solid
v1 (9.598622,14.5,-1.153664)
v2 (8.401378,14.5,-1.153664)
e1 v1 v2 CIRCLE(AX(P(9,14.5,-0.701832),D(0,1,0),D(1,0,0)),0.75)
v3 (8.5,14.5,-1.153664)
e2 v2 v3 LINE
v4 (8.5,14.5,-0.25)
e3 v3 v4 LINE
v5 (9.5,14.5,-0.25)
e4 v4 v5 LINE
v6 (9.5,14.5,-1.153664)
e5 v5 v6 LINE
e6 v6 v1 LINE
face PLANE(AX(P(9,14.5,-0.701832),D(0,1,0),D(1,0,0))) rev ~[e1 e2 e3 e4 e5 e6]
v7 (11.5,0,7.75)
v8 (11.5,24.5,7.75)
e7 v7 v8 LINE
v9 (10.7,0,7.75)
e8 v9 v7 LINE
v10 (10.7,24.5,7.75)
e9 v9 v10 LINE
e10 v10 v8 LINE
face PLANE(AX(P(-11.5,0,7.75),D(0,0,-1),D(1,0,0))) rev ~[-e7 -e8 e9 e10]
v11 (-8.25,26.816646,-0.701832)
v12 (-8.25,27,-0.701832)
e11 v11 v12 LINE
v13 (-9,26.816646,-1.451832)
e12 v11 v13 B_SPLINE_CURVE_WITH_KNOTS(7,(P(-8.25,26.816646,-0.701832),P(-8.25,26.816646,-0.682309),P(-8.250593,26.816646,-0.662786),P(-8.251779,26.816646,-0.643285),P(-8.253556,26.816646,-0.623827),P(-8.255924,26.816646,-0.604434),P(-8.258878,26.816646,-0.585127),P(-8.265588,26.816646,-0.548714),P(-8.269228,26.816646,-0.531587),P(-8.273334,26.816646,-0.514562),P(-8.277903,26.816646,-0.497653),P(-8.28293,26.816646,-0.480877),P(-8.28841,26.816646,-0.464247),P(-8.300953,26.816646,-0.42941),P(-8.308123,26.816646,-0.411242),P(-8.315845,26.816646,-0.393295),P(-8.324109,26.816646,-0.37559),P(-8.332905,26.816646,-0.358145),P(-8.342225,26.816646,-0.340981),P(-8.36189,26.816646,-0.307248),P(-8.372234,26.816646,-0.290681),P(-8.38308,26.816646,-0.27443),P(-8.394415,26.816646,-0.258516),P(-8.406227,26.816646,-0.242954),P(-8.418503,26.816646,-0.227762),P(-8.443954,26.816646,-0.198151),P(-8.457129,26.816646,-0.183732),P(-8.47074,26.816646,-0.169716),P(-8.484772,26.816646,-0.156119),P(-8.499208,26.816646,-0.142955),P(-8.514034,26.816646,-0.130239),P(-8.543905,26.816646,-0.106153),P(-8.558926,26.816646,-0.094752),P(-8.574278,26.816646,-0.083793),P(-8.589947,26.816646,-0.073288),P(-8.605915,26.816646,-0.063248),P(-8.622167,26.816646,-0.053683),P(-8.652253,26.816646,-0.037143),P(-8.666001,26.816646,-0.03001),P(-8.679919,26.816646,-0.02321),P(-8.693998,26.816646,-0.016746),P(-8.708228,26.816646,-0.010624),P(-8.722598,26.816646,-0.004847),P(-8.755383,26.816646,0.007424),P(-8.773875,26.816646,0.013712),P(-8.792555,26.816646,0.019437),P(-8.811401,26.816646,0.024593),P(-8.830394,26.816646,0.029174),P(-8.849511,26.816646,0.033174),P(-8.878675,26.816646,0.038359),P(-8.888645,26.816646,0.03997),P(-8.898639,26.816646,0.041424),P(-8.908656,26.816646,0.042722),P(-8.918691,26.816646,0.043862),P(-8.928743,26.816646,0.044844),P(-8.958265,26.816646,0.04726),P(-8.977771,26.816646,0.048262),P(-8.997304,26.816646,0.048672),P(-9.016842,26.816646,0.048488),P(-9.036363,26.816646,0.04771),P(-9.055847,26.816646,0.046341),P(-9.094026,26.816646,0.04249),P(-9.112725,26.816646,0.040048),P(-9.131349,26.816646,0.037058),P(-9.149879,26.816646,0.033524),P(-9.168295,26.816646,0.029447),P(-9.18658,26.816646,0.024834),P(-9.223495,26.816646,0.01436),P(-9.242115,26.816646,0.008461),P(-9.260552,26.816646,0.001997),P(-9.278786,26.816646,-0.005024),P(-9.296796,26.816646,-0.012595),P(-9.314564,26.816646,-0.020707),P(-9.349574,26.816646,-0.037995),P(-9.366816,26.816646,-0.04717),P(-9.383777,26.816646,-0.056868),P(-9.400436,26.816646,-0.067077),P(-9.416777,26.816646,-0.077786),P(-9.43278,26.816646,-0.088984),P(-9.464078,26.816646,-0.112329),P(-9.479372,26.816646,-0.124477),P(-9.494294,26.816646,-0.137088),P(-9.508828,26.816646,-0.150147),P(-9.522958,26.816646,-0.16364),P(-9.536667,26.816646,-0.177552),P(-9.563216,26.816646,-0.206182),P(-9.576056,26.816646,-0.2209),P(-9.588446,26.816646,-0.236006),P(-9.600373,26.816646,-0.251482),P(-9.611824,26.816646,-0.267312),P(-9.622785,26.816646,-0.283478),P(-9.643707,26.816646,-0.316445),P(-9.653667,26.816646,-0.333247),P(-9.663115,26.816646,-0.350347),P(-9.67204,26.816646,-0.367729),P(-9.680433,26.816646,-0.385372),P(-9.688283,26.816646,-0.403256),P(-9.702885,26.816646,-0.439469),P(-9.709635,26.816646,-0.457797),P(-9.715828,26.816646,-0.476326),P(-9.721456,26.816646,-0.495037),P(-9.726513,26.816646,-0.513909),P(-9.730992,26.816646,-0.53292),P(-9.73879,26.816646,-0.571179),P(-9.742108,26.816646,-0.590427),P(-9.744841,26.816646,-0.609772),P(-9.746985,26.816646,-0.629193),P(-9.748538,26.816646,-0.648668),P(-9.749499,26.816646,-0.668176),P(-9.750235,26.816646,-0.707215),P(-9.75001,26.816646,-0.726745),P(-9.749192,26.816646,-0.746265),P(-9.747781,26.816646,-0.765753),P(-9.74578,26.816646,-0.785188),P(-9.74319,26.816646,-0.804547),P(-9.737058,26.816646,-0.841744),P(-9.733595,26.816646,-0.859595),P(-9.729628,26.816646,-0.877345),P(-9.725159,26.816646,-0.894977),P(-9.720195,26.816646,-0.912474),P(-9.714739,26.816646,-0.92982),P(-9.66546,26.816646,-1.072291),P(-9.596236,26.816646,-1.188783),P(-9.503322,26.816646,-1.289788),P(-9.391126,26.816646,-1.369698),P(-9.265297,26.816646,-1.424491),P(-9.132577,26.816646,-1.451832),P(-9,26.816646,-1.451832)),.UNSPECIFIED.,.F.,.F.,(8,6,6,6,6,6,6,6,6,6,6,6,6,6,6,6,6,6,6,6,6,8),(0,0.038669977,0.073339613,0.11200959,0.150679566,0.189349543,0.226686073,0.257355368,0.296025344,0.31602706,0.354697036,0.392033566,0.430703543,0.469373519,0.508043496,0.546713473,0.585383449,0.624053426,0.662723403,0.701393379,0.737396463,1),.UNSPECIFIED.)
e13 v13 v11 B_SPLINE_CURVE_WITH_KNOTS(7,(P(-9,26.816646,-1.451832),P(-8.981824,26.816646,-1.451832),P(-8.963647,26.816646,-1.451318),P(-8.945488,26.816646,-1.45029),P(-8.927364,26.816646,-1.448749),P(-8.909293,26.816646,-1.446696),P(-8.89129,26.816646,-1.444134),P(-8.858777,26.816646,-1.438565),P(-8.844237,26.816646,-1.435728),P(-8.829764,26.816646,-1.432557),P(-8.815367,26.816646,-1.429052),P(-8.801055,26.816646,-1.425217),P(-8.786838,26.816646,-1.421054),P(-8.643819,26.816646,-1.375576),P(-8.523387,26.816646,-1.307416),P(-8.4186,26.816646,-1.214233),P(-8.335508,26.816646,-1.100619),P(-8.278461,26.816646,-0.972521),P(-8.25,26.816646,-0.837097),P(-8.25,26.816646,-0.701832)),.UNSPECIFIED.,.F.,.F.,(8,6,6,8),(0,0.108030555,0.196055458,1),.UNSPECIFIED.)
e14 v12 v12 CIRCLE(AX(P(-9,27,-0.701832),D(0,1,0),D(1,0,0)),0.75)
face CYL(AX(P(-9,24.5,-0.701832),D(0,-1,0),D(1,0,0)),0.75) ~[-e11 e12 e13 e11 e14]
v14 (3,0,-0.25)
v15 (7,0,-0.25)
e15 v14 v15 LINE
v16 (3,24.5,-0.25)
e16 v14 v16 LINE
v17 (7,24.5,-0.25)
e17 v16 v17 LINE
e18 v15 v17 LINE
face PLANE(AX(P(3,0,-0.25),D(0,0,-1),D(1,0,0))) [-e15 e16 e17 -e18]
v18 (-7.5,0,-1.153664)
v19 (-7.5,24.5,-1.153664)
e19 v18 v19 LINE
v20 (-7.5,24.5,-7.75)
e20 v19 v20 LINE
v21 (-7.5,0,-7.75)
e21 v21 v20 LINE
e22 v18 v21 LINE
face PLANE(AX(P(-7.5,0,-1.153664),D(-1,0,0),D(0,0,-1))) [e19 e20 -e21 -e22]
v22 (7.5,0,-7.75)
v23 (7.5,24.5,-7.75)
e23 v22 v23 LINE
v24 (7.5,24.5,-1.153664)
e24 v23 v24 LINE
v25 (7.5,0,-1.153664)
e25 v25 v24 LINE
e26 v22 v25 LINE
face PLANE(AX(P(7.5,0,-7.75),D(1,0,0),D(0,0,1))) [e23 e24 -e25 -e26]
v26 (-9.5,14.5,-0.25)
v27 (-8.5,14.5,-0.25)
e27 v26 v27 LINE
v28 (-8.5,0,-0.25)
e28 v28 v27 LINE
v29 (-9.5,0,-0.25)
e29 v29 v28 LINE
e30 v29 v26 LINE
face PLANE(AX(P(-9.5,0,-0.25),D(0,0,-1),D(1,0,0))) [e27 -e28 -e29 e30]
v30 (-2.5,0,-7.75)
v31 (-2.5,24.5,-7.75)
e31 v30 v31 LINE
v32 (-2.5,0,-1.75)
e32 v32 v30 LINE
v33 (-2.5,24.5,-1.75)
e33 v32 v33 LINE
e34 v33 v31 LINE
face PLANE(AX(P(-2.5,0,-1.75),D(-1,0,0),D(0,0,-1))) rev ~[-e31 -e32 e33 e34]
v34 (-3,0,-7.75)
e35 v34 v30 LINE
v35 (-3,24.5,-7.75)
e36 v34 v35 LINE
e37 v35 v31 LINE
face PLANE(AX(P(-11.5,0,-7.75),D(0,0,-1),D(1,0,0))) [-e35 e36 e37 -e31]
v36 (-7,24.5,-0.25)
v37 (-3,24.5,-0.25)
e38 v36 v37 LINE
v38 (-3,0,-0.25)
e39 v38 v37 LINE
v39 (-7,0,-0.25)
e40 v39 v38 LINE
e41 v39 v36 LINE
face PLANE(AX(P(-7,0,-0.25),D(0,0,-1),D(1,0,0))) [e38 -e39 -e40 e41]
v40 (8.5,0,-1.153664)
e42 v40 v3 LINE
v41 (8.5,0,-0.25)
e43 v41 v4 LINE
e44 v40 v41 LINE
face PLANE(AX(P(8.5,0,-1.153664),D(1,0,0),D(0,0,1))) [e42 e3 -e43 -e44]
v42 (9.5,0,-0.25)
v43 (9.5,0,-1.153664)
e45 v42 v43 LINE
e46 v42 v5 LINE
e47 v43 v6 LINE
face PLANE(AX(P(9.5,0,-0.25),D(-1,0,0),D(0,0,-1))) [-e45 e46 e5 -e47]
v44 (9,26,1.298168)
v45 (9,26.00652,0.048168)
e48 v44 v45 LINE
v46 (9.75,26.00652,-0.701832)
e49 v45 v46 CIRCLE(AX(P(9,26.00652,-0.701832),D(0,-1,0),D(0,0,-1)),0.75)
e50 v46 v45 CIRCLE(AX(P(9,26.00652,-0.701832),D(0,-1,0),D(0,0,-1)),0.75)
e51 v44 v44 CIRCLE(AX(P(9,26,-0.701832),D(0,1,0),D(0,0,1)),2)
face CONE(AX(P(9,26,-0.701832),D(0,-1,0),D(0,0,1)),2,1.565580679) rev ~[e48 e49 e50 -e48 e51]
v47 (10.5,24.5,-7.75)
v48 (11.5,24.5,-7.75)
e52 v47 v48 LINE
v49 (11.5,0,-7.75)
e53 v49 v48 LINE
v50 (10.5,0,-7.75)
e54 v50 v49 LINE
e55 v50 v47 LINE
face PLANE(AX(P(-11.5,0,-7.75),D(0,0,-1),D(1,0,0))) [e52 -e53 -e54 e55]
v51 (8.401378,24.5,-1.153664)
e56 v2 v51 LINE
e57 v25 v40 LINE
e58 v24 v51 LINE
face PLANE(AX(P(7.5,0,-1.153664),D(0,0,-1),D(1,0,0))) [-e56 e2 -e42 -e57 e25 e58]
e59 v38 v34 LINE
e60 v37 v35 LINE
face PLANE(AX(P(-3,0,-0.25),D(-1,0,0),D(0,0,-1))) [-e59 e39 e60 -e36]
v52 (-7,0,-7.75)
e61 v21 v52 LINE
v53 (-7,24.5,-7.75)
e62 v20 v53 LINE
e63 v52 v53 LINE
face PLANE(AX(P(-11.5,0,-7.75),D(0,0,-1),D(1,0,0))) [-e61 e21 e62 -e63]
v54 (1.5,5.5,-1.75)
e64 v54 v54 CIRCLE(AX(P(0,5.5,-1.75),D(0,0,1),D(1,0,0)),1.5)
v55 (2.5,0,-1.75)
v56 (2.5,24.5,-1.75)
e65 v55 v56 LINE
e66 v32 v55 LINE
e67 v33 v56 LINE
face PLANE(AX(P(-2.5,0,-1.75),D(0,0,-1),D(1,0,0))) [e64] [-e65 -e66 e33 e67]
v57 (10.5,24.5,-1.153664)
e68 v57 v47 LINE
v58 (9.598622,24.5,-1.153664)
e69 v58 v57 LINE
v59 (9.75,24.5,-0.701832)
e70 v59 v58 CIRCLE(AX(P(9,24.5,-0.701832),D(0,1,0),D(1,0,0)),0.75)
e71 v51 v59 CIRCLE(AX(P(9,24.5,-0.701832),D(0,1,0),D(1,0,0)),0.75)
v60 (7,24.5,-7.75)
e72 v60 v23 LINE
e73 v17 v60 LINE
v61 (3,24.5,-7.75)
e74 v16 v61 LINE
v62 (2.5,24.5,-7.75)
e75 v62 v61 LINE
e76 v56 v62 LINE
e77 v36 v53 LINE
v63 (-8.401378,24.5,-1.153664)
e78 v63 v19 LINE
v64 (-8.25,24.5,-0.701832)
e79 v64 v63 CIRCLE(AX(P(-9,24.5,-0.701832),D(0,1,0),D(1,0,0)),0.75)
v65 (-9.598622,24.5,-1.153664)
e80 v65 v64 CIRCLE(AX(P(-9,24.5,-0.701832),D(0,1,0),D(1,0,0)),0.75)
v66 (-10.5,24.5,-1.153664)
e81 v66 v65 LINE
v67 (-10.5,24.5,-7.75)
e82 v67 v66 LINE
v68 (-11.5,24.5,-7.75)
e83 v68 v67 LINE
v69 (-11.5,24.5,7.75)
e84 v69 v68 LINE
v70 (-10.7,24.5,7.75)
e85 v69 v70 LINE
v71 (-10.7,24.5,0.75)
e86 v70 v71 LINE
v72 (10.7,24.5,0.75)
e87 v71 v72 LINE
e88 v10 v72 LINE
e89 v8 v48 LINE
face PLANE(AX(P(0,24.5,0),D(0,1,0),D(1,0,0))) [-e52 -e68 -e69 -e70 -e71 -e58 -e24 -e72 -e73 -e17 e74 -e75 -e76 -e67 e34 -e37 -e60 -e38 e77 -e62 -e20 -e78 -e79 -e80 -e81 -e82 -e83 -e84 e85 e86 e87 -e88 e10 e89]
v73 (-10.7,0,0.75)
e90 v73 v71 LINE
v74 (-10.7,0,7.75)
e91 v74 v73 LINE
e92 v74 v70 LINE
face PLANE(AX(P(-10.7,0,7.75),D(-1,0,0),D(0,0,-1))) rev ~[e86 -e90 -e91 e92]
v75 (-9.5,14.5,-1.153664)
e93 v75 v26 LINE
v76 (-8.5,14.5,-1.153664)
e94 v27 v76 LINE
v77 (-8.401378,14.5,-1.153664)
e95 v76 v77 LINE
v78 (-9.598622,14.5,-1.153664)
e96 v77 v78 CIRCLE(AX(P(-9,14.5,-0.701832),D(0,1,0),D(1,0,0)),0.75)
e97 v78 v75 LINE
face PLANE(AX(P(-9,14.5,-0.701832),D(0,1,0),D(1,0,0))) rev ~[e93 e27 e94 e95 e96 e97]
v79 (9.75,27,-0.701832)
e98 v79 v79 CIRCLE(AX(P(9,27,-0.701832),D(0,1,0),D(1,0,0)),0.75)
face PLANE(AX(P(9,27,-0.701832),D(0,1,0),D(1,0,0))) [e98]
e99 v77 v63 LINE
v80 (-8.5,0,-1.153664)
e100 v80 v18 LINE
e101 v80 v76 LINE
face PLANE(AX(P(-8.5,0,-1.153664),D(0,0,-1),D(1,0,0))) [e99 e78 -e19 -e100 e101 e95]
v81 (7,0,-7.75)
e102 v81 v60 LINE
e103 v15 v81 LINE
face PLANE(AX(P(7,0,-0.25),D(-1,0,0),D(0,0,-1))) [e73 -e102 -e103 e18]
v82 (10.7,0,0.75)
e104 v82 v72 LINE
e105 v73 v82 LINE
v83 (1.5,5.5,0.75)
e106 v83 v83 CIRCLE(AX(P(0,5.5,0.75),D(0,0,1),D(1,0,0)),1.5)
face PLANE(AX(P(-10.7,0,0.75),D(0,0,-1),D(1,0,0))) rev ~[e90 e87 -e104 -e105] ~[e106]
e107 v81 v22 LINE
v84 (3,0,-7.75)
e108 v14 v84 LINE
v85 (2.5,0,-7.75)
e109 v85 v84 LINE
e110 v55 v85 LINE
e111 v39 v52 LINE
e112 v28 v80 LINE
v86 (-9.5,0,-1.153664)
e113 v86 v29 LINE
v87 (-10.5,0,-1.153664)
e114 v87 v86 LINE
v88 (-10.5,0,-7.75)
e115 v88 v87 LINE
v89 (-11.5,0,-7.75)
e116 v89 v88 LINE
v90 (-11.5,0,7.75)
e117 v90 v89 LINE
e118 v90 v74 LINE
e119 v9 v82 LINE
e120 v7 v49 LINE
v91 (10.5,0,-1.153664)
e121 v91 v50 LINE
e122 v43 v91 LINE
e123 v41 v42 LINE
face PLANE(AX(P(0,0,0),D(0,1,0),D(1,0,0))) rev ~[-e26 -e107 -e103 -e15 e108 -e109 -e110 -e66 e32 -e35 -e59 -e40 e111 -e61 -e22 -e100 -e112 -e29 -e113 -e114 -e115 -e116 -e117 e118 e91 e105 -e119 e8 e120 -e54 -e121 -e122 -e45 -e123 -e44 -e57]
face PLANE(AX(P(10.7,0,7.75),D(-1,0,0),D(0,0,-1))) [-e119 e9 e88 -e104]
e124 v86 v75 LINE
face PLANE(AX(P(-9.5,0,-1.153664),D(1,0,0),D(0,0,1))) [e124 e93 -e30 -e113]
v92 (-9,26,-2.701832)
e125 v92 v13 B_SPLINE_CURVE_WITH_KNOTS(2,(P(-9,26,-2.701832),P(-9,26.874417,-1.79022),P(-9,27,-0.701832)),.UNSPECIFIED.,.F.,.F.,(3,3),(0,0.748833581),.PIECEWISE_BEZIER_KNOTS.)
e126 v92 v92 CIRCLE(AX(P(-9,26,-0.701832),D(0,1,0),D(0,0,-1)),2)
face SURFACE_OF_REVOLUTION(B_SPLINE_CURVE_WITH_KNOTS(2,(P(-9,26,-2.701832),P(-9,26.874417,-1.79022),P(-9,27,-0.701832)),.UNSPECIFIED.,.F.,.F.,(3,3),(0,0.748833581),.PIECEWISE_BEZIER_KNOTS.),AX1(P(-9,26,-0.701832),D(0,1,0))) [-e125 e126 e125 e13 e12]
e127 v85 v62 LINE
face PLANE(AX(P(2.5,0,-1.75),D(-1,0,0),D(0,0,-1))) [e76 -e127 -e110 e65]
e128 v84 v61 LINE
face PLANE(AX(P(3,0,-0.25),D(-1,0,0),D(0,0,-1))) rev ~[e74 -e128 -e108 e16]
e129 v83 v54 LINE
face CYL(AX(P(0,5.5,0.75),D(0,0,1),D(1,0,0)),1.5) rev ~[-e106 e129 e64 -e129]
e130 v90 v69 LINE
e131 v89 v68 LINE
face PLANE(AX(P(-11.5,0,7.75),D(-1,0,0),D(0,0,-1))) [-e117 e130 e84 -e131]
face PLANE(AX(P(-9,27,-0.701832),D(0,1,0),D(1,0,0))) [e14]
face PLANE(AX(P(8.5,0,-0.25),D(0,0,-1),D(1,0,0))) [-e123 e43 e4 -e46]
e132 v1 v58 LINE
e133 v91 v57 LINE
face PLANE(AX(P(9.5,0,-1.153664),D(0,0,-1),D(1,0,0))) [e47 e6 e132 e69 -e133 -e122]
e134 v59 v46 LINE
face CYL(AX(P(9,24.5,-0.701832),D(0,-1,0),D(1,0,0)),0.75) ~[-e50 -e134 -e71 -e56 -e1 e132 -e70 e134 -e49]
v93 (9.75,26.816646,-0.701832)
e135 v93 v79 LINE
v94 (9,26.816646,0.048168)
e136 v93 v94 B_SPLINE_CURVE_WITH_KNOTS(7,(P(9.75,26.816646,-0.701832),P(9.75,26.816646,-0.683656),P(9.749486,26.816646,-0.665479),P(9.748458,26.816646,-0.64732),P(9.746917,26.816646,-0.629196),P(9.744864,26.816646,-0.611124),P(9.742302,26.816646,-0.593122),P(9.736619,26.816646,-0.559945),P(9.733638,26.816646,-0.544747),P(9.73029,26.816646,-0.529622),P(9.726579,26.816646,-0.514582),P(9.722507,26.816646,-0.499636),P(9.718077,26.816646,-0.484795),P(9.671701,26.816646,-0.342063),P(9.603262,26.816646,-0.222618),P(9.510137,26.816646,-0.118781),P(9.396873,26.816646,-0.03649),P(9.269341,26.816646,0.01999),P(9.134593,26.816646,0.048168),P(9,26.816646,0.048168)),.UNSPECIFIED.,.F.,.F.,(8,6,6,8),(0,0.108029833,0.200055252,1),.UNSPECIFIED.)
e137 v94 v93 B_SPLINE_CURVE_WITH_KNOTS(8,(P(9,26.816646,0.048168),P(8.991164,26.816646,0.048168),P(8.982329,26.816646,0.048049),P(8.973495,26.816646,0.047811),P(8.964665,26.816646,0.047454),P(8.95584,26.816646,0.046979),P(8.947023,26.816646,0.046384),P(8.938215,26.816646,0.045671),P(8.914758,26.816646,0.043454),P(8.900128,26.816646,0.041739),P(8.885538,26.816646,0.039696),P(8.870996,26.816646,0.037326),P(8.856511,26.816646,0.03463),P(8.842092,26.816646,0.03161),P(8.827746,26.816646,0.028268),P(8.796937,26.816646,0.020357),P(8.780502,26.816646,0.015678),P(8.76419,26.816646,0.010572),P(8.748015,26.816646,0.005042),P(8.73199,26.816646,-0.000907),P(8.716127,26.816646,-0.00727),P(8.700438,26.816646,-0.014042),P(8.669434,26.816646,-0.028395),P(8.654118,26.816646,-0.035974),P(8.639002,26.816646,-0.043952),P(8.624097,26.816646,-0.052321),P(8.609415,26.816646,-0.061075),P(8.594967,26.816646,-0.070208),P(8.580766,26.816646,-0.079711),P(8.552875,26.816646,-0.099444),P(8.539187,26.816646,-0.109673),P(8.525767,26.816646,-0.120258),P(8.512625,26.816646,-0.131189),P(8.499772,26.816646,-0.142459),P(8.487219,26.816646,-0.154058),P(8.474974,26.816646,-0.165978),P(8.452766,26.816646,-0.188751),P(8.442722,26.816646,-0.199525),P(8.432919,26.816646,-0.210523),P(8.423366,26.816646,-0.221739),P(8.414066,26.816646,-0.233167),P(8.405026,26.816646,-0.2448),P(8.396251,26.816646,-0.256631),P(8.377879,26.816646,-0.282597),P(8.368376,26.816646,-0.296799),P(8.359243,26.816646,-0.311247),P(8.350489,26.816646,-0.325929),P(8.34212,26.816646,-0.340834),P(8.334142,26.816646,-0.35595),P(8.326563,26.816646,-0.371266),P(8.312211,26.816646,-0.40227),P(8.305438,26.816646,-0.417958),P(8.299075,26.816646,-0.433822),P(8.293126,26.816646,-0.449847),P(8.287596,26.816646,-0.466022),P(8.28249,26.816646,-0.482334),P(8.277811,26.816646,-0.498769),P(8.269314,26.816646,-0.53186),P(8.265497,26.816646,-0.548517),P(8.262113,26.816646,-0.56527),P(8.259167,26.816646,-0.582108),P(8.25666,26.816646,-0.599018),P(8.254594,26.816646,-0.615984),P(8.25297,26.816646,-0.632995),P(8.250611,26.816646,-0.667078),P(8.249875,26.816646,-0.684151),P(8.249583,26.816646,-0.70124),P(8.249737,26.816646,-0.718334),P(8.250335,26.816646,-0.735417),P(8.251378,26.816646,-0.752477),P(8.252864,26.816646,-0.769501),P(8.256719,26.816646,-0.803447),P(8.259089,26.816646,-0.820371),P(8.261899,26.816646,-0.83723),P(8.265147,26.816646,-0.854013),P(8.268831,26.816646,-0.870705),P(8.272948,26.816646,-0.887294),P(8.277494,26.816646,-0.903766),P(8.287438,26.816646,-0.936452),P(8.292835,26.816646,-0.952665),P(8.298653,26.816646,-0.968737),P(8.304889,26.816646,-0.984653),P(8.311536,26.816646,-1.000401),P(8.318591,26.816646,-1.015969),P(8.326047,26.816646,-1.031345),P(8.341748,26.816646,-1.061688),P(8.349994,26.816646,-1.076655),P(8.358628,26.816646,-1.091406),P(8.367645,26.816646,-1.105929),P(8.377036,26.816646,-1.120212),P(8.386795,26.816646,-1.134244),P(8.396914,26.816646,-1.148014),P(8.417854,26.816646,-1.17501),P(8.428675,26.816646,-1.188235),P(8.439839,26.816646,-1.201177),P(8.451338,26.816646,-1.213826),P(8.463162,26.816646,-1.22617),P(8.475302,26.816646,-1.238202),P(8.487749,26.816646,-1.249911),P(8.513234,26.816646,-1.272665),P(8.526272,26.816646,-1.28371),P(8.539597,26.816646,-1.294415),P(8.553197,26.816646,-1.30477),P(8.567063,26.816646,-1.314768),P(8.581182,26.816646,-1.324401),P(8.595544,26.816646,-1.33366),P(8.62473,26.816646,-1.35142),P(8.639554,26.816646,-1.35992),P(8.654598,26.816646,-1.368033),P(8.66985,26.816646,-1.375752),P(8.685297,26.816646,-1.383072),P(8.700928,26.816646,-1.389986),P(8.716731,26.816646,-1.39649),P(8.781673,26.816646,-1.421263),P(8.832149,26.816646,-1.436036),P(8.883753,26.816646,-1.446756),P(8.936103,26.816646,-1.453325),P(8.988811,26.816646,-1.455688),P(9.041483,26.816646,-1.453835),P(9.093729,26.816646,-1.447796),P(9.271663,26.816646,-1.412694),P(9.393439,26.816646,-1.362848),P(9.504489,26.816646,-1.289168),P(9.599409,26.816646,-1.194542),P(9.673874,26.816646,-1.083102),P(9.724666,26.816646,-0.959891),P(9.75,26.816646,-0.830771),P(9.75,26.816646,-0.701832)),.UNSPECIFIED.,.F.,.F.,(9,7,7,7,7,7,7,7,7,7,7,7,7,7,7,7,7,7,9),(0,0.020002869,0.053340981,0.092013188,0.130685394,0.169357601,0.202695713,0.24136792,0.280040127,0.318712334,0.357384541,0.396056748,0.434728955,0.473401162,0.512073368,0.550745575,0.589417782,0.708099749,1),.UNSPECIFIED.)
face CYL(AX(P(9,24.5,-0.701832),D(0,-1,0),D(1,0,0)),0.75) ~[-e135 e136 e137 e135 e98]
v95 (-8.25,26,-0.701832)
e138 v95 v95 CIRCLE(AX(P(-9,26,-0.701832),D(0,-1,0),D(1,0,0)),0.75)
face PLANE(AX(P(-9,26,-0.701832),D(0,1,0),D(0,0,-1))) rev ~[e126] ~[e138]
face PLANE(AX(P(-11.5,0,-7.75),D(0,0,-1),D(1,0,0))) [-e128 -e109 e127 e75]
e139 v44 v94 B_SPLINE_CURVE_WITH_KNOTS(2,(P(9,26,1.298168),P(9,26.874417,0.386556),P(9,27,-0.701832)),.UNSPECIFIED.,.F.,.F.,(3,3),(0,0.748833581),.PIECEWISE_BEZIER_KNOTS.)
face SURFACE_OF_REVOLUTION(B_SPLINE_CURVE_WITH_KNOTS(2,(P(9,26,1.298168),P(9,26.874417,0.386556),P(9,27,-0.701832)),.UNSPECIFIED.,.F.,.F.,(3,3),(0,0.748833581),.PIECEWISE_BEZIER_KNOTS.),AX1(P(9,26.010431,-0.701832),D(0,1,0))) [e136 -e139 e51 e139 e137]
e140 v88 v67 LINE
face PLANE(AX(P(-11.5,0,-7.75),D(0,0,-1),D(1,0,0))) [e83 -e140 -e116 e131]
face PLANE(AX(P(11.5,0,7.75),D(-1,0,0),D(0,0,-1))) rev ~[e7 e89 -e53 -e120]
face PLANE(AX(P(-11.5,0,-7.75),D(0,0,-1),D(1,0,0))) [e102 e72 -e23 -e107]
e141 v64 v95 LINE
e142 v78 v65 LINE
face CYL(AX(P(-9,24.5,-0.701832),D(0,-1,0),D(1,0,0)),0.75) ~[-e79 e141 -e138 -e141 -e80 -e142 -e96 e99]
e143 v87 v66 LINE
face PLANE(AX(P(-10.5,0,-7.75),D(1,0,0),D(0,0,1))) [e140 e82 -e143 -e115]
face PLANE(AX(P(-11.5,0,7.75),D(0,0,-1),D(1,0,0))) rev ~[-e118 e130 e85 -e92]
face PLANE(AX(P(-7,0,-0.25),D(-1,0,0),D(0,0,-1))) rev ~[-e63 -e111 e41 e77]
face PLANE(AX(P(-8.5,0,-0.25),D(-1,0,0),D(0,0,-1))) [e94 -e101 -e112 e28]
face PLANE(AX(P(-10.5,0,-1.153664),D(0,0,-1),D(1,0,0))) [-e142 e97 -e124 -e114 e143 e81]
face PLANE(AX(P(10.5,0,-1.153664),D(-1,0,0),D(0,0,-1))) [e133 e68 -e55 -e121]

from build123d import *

# Parameters (mm, degrees)
IZIM1_W                          = 23
IZIM1_H                          = 15.5
Y_KSEKLIK_EKSTR_ZYON1_DEPTH      = 24.5
IZIM2_W                          = 21.4
IZIM2_H                          = 7
IZIM2_W_2                        = 5
IZIM2_H_2                        = 6
IZIM2_W_3                        = 4
IZIM2_H_3                        = 7.5
KES_EKSTR_ZYON1_DEPTH            = 24.5
IZIM3_R                          = 0.75
Y_KSEKLIK_EKSTR_ZYON4_DEPTH      = 2.5
Y_KSEKLIK_EKSTR_ZYON4_DEPTH_BACK = 10
IZIM8_R                          = 1.5
KES_EKSTR_ZYON3_DEPTH            = 10


with BuildPart() as part:
    # Çizim1 → Yükseklik-Ekstrüzyon1 (new body)
    with BuildSketch(Plane(origin=(0, 0, 0), x_dir=(1, 0, 0), z_dir=(0, 1, 0))):
        Rectangle(IZIM1_W, IZIM1_H)
    extrude(amount=Y_KSEKLIK_EKSTR_ZYON1_DEPTH)

    # Çizim2 → Kes-Ekstrüzyon1 (cut)
    with BuildSketch(Plane(origin=(0, 0, 0), x_dir=(1, 0, 0), z_dir=(0, 1, 0))):
        with Locations((0, -4.25)):
            Rectangle(IZIM2_W, IZIM2_H)
        Polygon((-8.5, 1.153663729), (-7.5, 1.153663729), (-7.5, 7.75), (-10.5, 7.75), (-10.5, 1.153663729), (-9.5, 1.153663729), (-9.5, 0.25), (-8.5, 0.25), align=None)
        with Locations((0, 4.75)):
            Rectangle(IZIM2_W_2, IZIM2_H_2)
        with Locations((-5, 4)):
            Rectangle(IZIM2_W_3, IZIM2_H_3)
        with Locations((5, 4)):
            Rectangle(IZIM2_W_3, IZIM2_H_3)
        Polygon((10.5, 7.75), (7.5, 7.75), (7.5, 1.153663729), (8.5, 1.153663729), (8.5, 0.25), (9.5, 0.25), (9.5, 1.153663729), (10.5, 1.153663729), align=None)
    extrude(amount=KES_EKSTR_ZYON1_DEPTH, mode=Mode.SUBTRACT)

    # Çizim3 → Yükseklik-Ekstrüzyon4 (add, two sides)
    with BuildSketch(Plane(origin=(0, 24.5, 0), x_dir=(1, 0, 0), z_dir=(0, 1, 0))) as y_kseklik_ekstr_zyon4_sk:
        with Locations((-9, 0.701831864)):
            Circle(IZIM3_R)
        with Locations((9, 0.701831864)):
            Circle(IZIM3_R)
    extrude(amount=Y_KSEKLIK_EKSTR_ZYON4_DEPTH)
    extrude(y_kseklik_ekstr_zyon4_sk.sketch, amount=-Y_KSEKLIK_EKSTR_ZYON4_DEPTH_BACK)

    # Çizim5 → Döndür2 (revolve)
    with BuildSketch(Plane.ZY.offset(9)):
        with BuildLine():
            Line((-2.701831864, 26), (-0.701831864, 26))
            Line((-0.701831864, 26), (-0.701831864, 27))
            add(Edge.make_bspline(
                [(-2.701831864, 26), (-1.790219679, 26.874416791), (-0.701831864, 27)],
                knots=[0, 0, 0, 0.748833581, 0.748833581, 0.748833581], degree=2))
        make_face()
    revolve(axis=Axis((-9, 26, -0.701831864), (0, 1, 0)))

    # Çizim6 → Döndür3 (revolve)
    with BuildSketch(Plane(origin=(9, 0, 0), x_dir=(0, 0, -1), z_dir=(1, 0, 0))):
        with BuildLine():
            Line((-1.298168136, 26), (0.701831864, 26.01043139))
            Line((0.701831864, 26.01043139), (0.701831864, 27))
            add(Edge.make_bspline(
                [(-1.298168136, 26), (-0.38655595, 26.874416791), (0.701831864, 27)],
                knots=[0, 0, 0, 0.748833581, 0.748833581, 0.748833581], degree=2))
        make_face()
    revolve(axis=Axis((9, 26.01043139, -0.701831864), (0, 1, 0)))

    # Çizim8 → Kes-Ekstrüzyon3 (cut)
    with BuildSketch(Plane.XY.offset(0.75)):
        with Locations((0, 5.5)):
            Circle(IZIM8_R)
    extrude(amount=-KES_EKSTR_ZYON3_DEPTH, mode=Mode.SUBTRACT)


solid = part.part
